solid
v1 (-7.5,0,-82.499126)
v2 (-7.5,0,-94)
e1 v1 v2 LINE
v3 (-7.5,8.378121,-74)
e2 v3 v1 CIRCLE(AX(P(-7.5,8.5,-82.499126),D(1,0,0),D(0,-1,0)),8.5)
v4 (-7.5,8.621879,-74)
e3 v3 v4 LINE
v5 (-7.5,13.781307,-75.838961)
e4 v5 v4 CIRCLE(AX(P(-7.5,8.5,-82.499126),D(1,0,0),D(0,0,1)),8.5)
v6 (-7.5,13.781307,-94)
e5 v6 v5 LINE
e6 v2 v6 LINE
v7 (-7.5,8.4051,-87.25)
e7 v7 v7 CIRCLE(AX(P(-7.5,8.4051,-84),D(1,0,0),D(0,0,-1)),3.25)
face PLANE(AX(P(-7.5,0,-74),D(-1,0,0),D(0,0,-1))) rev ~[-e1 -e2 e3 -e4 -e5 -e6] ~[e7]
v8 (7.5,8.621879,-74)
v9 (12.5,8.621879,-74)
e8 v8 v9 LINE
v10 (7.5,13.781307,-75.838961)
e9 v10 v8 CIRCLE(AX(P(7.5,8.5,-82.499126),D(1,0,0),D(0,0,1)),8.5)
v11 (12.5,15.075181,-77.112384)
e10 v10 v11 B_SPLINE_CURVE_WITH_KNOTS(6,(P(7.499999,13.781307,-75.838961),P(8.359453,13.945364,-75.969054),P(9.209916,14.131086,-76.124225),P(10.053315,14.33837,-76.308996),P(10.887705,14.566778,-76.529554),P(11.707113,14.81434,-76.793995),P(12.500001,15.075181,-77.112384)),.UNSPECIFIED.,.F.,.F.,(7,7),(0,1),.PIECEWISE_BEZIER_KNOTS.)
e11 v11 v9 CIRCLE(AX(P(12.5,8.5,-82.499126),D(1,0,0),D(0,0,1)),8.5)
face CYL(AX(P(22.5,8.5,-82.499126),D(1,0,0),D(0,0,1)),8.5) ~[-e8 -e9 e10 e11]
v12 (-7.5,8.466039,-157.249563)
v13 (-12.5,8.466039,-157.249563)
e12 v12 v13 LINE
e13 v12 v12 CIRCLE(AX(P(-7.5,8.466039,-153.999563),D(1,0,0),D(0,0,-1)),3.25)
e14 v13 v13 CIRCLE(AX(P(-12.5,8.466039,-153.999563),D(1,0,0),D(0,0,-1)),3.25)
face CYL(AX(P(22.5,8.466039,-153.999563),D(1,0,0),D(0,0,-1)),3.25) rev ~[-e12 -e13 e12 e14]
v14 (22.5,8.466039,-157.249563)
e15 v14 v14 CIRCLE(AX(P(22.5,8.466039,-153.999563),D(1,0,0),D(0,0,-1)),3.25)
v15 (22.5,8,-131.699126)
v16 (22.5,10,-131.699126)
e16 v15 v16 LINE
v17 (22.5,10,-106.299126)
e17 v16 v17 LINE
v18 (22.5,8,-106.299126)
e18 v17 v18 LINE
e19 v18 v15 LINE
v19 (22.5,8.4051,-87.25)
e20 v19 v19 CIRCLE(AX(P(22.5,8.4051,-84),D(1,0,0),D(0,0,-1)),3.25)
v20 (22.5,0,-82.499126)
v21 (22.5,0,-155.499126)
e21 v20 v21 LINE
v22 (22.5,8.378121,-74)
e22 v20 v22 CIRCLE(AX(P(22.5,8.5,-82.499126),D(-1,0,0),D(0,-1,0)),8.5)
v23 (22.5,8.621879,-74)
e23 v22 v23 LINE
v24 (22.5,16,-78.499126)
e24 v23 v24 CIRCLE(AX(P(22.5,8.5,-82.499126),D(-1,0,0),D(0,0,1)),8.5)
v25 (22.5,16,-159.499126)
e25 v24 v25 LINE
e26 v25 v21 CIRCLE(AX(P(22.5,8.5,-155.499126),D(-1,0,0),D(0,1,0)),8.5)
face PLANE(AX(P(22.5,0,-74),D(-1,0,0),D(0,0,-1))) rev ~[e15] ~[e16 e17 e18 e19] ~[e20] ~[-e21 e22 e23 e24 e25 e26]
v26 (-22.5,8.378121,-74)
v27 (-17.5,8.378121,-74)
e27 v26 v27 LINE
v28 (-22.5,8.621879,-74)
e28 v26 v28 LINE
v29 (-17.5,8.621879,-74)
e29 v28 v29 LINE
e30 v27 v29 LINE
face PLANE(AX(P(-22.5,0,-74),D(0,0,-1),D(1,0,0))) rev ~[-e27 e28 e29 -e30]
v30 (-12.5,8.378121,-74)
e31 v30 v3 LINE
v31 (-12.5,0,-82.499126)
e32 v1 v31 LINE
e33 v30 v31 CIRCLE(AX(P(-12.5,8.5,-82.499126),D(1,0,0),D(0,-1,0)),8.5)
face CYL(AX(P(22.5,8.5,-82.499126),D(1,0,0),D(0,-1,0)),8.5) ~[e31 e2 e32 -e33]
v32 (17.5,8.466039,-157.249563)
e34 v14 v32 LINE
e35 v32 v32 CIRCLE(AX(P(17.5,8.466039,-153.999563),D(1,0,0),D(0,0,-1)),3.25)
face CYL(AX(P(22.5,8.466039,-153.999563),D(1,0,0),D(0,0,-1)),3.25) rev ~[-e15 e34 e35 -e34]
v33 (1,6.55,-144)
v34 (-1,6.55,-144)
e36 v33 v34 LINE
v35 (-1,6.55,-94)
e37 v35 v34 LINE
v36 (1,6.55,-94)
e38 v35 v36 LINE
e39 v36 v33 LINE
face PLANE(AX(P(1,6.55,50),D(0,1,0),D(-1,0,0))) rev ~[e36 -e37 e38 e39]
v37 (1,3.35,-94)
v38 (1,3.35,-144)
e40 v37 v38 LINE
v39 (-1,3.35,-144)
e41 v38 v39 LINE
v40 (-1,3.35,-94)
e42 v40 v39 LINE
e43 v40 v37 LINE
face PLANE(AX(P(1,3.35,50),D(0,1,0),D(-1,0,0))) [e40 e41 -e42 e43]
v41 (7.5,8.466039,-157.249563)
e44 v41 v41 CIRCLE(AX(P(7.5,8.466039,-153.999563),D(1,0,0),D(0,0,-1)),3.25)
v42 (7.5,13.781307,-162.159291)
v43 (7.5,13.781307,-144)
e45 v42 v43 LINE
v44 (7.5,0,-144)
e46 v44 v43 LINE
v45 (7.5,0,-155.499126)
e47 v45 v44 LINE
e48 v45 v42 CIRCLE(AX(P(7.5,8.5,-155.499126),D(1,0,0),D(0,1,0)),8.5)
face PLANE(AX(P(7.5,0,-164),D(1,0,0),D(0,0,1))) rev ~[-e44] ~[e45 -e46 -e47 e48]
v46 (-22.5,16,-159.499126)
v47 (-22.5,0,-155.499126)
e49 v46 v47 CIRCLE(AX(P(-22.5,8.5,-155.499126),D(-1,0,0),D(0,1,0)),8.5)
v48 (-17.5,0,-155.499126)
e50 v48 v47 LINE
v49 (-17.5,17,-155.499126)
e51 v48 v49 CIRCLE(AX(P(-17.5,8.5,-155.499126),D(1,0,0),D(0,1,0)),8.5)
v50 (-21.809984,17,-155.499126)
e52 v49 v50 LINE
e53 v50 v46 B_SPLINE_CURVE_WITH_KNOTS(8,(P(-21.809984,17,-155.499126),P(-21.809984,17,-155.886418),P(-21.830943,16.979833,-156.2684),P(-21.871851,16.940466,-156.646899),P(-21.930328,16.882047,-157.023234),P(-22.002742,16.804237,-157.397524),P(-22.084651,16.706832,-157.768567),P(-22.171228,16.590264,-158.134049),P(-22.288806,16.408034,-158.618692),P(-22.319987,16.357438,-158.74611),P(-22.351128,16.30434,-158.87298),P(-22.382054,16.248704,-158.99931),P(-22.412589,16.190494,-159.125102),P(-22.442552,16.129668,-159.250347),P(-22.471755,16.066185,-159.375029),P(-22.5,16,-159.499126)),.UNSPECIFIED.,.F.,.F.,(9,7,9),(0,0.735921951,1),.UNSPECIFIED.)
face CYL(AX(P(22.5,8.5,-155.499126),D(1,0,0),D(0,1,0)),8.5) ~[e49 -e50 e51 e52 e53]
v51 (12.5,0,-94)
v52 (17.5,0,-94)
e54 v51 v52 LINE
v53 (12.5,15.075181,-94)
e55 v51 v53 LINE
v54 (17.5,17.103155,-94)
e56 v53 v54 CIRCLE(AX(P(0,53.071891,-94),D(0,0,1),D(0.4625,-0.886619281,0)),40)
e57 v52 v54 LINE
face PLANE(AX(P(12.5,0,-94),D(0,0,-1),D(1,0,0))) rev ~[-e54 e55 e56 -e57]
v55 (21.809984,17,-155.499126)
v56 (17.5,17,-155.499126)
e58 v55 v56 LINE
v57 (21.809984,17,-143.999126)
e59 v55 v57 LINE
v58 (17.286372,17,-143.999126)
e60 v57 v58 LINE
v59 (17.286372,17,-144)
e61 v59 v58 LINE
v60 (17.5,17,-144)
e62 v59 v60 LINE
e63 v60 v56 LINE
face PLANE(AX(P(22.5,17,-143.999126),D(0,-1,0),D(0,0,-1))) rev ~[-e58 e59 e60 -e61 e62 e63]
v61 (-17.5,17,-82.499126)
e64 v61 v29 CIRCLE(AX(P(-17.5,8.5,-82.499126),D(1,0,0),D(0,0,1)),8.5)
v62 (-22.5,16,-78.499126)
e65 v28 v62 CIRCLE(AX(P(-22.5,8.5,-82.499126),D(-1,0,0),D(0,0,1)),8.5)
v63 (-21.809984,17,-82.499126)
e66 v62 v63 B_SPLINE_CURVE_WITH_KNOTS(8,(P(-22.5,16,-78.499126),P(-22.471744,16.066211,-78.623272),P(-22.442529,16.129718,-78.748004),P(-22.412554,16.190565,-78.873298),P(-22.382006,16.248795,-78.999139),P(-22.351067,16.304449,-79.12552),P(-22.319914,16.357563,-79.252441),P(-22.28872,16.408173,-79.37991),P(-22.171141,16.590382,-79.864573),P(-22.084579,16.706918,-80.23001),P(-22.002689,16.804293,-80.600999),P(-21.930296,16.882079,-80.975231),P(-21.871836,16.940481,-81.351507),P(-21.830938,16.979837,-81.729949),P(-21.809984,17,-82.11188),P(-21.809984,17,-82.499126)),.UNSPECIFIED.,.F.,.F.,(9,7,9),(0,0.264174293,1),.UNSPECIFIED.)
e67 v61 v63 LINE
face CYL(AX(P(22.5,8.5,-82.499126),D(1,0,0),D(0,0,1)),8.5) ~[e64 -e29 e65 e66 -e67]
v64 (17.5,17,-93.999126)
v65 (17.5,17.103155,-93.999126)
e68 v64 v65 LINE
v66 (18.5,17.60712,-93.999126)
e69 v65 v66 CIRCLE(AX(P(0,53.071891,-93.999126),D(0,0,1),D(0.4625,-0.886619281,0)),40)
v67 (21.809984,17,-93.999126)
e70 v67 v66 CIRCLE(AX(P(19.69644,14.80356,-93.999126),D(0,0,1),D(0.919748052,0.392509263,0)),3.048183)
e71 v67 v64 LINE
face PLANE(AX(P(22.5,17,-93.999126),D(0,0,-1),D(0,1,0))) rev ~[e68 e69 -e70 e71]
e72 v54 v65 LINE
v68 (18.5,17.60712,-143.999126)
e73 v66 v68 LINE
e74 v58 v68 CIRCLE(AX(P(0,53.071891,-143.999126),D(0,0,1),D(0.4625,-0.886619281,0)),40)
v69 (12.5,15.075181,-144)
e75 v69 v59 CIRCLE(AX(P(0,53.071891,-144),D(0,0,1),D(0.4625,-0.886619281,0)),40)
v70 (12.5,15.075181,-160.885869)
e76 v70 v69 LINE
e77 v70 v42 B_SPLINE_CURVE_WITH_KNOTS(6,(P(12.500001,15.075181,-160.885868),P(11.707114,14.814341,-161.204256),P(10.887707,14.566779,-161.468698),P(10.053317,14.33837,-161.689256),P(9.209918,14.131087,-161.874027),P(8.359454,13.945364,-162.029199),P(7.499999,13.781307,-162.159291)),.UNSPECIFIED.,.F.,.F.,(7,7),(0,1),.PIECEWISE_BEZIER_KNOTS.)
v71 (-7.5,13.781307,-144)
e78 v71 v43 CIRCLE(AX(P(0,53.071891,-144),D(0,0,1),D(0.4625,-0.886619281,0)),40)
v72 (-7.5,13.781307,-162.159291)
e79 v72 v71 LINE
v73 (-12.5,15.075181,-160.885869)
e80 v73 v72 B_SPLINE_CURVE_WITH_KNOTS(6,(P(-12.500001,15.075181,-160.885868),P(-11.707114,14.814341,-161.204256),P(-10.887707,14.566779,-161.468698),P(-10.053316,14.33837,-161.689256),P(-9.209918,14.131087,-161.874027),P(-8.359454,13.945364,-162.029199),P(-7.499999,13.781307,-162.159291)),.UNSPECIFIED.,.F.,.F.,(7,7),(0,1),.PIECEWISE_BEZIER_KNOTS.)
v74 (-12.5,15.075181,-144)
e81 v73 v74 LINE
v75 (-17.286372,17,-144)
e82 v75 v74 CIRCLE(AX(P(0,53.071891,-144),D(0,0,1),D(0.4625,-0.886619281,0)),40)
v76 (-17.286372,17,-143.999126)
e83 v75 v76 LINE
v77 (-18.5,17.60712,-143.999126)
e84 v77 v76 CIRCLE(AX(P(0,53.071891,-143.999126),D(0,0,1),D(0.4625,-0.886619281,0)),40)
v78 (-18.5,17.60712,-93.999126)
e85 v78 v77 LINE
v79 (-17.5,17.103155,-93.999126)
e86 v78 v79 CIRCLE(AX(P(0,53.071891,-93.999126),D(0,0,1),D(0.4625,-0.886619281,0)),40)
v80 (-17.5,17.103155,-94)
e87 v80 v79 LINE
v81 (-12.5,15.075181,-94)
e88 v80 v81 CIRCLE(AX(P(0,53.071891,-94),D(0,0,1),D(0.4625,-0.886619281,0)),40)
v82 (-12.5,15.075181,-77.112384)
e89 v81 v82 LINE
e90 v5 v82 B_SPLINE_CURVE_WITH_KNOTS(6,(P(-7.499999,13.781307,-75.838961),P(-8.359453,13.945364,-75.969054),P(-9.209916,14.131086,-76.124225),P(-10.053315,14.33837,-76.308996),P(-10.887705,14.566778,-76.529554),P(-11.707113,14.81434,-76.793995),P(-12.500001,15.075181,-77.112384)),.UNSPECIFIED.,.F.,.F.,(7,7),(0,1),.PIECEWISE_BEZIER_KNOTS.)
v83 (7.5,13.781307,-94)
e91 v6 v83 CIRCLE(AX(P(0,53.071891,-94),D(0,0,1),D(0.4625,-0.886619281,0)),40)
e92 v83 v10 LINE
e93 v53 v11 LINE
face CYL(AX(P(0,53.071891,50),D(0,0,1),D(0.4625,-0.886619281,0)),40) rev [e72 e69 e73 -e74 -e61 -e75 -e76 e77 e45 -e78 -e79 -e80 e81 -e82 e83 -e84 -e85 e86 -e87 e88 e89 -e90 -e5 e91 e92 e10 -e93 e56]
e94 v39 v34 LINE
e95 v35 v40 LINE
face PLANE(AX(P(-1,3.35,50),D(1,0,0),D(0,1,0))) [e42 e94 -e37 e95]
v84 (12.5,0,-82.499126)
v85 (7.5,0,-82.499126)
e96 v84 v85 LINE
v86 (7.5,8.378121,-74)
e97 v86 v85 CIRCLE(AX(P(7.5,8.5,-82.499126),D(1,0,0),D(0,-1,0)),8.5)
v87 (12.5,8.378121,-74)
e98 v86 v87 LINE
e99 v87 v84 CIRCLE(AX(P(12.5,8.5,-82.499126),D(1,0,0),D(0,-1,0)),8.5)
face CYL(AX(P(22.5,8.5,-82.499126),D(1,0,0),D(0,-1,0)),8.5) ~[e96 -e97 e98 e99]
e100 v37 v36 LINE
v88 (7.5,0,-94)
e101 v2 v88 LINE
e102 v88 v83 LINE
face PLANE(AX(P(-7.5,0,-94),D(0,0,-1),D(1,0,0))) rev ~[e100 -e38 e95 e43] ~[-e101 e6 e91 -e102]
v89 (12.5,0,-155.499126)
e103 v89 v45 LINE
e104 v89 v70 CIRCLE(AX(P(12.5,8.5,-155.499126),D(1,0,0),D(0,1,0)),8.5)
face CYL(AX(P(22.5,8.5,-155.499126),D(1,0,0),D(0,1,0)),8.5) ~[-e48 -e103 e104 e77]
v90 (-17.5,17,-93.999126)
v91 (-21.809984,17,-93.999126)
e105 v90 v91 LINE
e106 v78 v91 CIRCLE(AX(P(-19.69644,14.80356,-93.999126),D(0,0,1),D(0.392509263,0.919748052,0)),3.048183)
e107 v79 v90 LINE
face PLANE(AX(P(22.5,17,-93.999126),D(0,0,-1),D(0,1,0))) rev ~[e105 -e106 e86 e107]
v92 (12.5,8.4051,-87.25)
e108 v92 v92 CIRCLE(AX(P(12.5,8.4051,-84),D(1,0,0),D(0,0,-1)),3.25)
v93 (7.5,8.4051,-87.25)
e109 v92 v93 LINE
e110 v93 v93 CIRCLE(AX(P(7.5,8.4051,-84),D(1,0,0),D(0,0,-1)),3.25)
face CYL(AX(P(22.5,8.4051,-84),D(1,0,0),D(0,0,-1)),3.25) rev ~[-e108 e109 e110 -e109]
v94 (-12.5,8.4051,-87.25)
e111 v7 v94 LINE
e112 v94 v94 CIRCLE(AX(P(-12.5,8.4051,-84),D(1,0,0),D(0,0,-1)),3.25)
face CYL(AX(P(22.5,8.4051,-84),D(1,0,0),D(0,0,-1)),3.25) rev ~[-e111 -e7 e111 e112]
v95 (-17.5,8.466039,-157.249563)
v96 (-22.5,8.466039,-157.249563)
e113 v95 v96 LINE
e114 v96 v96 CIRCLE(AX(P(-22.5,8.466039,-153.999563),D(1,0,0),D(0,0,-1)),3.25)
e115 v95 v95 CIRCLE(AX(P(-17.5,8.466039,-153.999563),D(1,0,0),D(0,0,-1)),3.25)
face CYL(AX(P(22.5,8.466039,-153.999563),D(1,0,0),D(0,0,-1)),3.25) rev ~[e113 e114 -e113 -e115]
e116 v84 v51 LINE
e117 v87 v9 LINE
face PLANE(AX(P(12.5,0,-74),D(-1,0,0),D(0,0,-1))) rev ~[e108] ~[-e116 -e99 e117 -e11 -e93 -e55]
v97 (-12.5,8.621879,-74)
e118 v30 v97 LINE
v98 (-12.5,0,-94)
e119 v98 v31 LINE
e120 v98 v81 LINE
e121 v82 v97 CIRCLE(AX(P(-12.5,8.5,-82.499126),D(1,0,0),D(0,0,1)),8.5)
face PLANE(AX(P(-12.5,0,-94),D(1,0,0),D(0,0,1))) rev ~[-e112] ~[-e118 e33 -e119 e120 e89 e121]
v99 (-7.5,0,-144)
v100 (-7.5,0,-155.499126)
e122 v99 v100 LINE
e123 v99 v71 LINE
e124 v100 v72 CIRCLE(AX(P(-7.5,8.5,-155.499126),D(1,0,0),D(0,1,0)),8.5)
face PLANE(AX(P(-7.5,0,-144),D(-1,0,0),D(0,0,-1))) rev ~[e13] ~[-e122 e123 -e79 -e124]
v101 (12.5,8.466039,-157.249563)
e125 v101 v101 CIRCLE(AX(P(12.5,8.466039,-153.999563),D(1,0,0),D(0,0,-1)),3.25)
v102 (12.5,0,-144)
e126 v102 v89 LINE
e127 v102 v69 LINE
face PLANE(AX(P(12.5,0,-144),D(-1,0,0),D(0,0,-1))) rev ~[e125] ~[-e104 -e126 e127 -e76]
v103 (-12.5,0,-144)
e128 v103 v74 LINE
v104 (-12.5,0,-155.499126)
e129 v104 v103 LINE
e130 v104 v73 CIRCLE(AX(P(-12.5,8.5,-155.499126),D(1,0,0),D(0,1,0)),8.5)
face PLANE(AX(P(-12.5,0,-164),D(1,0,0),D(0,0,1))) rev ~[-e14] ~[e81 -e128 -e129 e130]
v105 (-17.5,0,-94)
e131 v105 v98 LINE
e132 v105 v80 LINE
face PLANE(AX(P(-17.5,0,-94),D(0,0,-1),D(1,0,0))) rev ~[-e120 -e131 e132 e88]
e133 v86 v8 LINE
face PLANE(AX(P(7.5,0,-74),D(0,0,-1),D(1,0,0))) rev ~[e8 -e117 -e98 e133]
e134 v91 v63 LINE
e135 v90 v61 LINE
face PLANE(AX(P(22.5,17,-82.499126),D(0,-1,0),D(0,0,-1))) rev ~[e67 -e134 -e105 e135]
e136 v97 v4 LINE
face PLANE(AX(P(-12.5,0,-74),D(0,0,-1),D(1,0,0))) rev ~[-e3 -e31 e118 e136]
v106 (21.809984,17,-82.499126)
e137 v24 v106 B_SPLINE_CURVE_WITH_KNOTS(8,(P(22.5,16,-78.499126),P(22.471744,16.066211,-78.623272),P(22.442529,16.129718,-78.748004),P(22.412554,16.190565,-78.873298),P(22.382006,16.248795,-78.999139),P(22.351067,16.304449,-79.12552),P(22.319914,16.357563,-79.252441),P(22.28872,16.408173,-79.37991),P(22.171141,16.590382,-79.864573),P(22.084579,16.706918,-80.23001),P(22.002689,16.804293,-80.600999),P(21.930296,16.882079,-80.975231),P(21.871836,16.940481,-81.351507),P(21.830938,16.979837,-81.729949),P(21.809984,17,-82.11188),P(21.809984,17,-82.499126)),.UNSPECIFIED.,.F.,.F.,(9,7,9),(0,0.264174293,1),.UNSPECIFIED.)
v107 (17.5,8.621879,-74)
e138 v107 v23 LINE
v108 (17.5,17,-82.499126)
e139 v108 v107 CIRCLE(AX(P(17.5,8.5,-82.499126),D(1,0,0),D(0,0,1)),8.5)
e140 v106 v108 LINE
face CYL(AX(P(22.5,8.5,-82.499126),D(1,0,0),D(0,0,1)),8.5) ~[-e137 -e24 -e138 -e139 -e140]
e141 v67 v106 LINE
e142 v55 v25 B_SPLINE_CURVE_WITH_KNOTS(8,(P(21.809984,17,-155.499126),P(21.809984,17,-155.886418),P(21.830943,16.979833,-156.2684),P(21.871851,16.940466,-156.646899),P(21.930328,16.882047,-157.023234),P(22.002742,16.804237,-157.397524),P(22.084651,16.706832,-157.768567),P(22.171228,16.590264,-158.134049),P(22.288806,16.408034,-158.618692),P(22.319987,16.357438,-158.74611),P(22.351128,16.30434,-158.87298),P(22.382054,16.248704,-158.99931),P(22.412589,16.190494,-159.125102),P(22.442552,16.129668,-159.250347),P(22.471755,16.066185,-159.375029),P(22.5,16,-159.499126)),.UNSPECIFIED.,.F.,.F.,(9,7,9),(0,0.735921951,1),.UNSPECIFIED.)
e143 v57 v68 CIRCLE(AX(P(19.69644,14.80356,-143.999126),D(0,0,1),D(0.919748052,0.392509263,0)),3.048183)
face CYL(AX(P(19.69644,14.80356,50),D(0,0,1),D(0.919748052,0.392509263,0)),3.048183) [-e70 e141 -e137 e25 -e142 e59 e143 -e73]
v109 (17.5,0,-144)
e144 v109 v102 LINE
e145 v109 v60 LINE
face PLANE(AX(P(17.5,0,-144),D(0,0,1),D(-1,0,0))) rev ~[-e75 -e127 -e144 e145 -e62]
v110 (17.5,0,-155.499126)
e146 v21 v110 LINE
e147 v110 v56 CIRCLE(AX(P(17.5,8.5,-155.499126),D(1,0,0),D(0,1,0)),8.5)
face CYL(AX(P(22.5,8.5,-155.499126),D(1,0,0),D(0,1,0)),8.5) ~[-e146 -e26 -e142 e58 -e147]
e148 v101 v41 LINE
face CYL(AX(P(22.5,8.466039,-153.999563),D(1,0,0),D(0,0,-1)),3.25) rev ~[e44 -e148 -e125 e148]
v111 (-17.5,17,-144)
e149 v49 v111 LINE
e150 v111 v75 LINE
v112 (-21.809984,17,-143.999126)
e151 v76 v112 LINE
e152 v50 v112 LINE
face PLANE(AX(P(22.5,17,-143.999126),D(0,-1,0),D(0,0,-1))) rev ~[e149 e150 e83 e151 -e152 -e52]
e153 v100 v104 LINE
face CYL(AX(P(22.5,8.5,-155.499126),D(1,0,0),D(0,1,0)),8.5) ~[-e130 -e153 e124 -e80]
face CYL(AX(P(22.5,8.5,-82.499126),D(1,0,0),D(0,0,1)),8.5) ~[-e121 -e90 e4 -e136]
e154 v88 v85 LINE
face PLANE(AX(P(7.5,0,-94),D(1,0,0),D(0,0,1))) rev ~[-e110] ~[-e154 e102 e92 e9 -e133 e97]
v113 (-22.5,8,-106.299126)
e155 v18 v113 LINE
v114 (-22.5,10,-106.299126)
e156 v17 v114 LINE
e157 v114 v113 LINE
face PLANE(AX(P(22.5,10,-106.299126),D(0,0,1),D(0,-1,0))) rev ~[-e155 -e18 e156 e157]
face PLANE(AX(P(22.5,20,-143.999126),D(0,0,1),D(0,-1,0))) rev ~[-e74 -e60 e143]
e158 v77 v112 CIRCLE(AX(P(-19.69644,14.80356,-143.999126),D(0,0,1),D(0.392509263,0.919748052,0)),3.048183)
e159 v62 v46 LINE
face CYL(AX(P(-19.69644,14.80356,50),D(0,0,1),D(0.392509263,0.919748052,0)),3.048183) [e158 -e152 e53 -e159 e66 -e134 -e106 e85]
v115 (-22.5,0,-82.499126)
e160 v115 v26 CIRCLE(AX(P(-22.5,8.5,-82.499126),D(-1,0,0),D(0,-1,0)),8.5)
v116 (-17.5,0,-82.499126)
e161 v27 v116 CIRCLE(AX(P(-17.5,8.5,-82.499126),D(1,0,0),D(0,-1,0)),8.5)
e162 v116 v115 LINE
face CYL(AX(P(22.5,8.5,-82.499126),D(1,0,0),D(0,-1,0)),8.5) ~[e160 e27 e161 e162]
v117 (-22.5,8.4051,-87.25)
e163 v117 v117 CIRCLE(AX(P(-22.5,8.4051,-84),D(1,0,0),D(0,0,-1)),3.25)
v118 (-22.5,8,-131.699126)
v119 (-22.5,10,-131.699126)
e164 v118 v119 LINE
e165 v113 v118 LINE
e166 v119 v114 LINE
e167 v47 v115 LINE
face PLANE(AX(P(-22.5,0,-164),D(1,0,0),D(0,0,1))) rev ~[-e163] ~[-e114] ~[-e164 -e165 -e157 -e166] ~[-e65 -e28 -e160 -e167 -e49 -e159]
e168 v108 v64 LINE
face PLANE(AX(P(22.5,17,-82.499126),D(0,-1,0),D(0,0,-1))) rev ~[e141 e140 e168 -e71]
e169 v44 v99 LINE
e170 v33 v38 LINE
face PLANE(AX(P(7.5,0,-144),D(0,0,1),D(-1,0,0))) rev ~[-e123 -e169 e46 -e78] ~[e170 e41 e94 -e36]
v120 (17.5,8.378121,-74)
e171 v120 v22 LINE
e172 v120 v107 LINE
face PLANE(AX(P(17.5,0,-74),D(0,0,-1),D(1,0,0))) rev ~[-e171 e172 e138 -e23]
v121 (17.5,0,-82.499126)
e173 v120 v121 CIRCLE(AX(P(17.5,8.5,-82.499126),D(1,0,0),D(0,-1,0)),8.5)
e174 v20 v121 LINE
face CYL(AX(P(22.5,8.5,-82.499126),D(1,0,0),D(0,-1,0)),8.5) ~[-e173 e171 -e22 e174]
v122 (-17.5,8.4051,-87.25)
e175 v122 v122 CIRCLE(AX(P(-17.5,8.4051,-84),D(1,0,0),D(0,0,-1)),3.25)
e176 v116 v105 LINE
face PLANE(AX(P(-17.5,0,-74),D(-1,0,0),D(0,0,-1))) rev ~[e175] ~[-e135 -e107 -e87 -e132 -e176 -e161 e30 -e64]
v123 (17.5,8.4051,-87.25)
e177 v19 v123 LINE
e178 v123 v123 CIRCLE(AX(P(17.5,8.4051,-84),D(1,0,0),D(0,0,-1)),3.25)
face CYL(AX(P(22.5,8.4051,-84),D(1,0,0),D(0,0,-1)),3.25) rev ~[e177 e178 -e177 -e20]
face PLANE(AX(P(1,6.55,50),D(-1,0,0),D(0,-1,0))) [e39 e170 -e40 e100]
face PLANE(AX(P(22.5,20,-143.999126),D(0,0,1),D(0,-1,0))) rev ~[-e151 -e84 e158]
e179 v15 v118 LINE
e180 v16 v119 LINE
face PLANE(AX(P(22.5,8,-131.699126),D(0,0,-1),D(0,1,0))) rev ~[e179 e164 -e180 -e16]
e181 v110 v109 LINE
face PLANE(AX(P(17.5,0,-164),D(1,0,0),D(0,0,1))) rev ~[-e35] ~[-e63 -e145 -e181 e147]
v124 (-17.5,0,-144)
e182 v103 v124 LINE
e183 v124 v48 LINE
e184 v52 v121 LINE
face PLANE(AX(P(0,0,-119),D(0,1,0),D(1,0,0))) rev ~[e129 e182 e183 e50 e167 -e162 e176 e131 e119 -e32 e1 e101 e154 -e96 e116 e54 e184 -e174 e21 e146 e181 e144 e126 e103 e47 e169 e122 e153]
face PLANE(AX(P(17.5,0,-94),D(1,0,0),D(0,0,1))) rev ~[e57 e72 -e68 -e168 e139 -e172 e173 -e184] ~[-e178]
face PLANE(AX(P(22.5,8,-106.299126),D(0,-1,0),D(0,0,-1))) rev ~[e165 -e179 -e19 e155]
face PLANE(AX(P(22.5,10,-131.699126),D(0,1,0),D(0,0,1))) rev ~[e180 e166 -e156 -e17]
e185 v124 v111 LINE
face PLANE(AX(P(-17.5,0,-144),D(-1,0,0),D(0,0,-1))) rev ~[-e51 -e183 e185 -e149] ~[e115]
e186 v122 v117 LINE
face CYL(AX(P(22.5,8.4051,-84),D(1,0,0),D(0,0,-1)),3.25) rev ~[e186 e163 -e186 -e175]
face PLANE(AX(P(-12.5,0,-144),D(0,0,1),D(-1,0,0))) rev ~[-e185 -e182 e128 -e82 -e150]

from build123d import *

# Parameters (mm, degrees)
BOSS_EXTRUDE1_DEPTH = 20
CUT_EXTRUDE21_DEPTH = 45
CUT_EXTRUDE23_DEPTH = 444
SKETCH9_R           = 3.25
SKETCH9_R_2         = 3.15
CUT_EXTRUDE24_DEPTH = 45
CUT_EXTRUDE26_DEPTH = 444
CUT_EXTRUDE27_DEPTH = 45


with BuildPart() as part:
    # Sketch1 → Boss-Extrude1 (new body)
    with BuildSketch(Plane(origin=(0, 0, 0), x_dir=(1, 0, 0), z_dir=(0, 1, 0))):
        Polygon((-22.5, 144), (-22.5, 94), (-22.5, 74), (-17.5, 74), (-17.5, 94), (-12.5, 94), (-12.5, 74), (-7.5, 74), (-7.5, 94), (-2.5, 94), (2.5, 94), (7.5, 94), (7.5, 74), (12.5, 74), (12.5, 94), (17.5, 94), (17.5, 74), (22.5, 74), (22.5, 94), (22.5, 144), (22.5, 164), (17.5, 164), (17.5, 144), (12.5, 144), (12.5, 164), (7.5, 164), (7.5, 144), (2.5, 144), (-2.5, 144), (-7.5, 144), (-7.5, 164), (-12.5, 164), (-12.5, 144), (-17.5, 144), (-17.5, 164), (-22.5, 164), align=None)
    extrude(amount=BOSS_EXTRUDE1_DEPTH)

    # Sketch7 → Cut-Extrude21 (cut)
    with BuildSketch(Plane(origin=(22.5, 0, 0), x_dir=(0, 0, -1), z_dir=(1, 0, 0))):
        with BuildLine():
            ThreePointArc((73.999126156, 8.5), (76.488718516, 14.51040764), (82.499126156, 17))
            Line((82.499126156, 17), (93.999126156, 17))
            Line((93.999126156, 17), (93.999126156, 20))
            Line((93.999126156, 20), (82.499126156, 20))
            Line((82.499126156, 20), (73.999126156, 20))
            Line((73.999126156, 20), (73.999126156, 17))
            Line((73.999126156, 17), (73.999126156, 8.5))
        make_face()
        with BuildLine():
            ThreePointArc((82.499126156, 0), (76.488718516, 2.48959236), (73.999126156, 8.5))
            Line((73.999126156, 8.5), (73.999126156, 0))
            Line((73.999126156, 0), (82.499126156, 0))
        make_face()
        with BuildLine():
            Line((155.499126156, 20), (143.999126156, 20))
            Line((143.999126156, 20), (143.999126156, 17))
            Line((143.999126156, 17), (155.499126156, 17))
            ThreePointArc((155.499126156, 17), (163.999126156, 8.5), (155.499126156, 0))
            Line((155.499126156, 0), (163.999126156, 0))
            Line((163.999126156, 0), (164, 0))
            Line((164, 0), (164, 20))
            Line((164, 20), (163.999126156, 20))
            Line((163.999126156, 20), (155.499126156, 20))
        make_face()
    extrude(amount=-CUT_EXTRUDE21_DEPTH, mode=Mode.SUBTRACT)

    # Sketch2 → Cut-Extrude23 (cut)
    with BuildSketch(Plane.XY.offset(50)):
        with BuildLine():
            Line((-22.5, 20), (22.5, 20))
            Line((22.5, 20), (22.5, 16))
            ThreePointArc((22.5, 16), (20.832845478, 17.631987193), (18.5, 17.607120136))
            ThreePointArc((18.5, 17.607120136), (0, 13.071891388), (-18.5, 17.607120136))
            ThreePointArc((-18.5, 17.607120136), (-20.832845478, 17.631987193), (-22.5, 16))
            Line((-22.5, 16), (-22.5, 20))
        make_face()
    extrude(amount=-CUT_EXTRUDE23_DEPTH, mode=Mode.SUBTRACT)

    # Sketch9 → Cut-Extrude24 (cut)
    with BuildSketch(Plane(origin=(22.5, 0, 0), x_dir=(0, 0, -1), z_dir=(1, 0, 0))):
        with Locations((153.999563078, 8.466039352)):
            Circle(SKETCH9_R)
        with Locations((84, 8.405099657)):
            Circle(SKETCH9_R)
        with Locations((178, 8.5)):
            Circle(SKETCH9_R_2)
        with Locations((60, 8.5)):
            Circle(SKETCH9_R_2)
    extrude(amount=-CUT_EXTRUDE24_DEPTH, mode=Mode.SUBTRACT)

    # Sketch12 → Cut-Extrude26 (cut)
    with BuildSketch(Plane.XY.offset(50)):
        Polygon((-1, 3.35), (-1, 6.55), (0, 6.55), (1, 6.55), (1, 3.35), align=None)
    extrude(amount=-CUT_EXTRUDE26_DEPTH, mode=Mode.SUBTRACT)

    # Sketch13 → Cut-Extrude27 (cut)
    with BuildSketch(Plane(origin=(22.5, 0, 0), x_dir=(0, 0, -1), z_dir=(1, 0, 0))):
        Polygon((118.999126156, 8), (131.699126156, 8), (131.699126156, 10), (106.299126156, 10), (106.299126156, 8), align=None)
    extrude(amount=-CUT_EXTRUDE27_DEPTH, mode=Mode.SUBTRACT)


solid = part.part
